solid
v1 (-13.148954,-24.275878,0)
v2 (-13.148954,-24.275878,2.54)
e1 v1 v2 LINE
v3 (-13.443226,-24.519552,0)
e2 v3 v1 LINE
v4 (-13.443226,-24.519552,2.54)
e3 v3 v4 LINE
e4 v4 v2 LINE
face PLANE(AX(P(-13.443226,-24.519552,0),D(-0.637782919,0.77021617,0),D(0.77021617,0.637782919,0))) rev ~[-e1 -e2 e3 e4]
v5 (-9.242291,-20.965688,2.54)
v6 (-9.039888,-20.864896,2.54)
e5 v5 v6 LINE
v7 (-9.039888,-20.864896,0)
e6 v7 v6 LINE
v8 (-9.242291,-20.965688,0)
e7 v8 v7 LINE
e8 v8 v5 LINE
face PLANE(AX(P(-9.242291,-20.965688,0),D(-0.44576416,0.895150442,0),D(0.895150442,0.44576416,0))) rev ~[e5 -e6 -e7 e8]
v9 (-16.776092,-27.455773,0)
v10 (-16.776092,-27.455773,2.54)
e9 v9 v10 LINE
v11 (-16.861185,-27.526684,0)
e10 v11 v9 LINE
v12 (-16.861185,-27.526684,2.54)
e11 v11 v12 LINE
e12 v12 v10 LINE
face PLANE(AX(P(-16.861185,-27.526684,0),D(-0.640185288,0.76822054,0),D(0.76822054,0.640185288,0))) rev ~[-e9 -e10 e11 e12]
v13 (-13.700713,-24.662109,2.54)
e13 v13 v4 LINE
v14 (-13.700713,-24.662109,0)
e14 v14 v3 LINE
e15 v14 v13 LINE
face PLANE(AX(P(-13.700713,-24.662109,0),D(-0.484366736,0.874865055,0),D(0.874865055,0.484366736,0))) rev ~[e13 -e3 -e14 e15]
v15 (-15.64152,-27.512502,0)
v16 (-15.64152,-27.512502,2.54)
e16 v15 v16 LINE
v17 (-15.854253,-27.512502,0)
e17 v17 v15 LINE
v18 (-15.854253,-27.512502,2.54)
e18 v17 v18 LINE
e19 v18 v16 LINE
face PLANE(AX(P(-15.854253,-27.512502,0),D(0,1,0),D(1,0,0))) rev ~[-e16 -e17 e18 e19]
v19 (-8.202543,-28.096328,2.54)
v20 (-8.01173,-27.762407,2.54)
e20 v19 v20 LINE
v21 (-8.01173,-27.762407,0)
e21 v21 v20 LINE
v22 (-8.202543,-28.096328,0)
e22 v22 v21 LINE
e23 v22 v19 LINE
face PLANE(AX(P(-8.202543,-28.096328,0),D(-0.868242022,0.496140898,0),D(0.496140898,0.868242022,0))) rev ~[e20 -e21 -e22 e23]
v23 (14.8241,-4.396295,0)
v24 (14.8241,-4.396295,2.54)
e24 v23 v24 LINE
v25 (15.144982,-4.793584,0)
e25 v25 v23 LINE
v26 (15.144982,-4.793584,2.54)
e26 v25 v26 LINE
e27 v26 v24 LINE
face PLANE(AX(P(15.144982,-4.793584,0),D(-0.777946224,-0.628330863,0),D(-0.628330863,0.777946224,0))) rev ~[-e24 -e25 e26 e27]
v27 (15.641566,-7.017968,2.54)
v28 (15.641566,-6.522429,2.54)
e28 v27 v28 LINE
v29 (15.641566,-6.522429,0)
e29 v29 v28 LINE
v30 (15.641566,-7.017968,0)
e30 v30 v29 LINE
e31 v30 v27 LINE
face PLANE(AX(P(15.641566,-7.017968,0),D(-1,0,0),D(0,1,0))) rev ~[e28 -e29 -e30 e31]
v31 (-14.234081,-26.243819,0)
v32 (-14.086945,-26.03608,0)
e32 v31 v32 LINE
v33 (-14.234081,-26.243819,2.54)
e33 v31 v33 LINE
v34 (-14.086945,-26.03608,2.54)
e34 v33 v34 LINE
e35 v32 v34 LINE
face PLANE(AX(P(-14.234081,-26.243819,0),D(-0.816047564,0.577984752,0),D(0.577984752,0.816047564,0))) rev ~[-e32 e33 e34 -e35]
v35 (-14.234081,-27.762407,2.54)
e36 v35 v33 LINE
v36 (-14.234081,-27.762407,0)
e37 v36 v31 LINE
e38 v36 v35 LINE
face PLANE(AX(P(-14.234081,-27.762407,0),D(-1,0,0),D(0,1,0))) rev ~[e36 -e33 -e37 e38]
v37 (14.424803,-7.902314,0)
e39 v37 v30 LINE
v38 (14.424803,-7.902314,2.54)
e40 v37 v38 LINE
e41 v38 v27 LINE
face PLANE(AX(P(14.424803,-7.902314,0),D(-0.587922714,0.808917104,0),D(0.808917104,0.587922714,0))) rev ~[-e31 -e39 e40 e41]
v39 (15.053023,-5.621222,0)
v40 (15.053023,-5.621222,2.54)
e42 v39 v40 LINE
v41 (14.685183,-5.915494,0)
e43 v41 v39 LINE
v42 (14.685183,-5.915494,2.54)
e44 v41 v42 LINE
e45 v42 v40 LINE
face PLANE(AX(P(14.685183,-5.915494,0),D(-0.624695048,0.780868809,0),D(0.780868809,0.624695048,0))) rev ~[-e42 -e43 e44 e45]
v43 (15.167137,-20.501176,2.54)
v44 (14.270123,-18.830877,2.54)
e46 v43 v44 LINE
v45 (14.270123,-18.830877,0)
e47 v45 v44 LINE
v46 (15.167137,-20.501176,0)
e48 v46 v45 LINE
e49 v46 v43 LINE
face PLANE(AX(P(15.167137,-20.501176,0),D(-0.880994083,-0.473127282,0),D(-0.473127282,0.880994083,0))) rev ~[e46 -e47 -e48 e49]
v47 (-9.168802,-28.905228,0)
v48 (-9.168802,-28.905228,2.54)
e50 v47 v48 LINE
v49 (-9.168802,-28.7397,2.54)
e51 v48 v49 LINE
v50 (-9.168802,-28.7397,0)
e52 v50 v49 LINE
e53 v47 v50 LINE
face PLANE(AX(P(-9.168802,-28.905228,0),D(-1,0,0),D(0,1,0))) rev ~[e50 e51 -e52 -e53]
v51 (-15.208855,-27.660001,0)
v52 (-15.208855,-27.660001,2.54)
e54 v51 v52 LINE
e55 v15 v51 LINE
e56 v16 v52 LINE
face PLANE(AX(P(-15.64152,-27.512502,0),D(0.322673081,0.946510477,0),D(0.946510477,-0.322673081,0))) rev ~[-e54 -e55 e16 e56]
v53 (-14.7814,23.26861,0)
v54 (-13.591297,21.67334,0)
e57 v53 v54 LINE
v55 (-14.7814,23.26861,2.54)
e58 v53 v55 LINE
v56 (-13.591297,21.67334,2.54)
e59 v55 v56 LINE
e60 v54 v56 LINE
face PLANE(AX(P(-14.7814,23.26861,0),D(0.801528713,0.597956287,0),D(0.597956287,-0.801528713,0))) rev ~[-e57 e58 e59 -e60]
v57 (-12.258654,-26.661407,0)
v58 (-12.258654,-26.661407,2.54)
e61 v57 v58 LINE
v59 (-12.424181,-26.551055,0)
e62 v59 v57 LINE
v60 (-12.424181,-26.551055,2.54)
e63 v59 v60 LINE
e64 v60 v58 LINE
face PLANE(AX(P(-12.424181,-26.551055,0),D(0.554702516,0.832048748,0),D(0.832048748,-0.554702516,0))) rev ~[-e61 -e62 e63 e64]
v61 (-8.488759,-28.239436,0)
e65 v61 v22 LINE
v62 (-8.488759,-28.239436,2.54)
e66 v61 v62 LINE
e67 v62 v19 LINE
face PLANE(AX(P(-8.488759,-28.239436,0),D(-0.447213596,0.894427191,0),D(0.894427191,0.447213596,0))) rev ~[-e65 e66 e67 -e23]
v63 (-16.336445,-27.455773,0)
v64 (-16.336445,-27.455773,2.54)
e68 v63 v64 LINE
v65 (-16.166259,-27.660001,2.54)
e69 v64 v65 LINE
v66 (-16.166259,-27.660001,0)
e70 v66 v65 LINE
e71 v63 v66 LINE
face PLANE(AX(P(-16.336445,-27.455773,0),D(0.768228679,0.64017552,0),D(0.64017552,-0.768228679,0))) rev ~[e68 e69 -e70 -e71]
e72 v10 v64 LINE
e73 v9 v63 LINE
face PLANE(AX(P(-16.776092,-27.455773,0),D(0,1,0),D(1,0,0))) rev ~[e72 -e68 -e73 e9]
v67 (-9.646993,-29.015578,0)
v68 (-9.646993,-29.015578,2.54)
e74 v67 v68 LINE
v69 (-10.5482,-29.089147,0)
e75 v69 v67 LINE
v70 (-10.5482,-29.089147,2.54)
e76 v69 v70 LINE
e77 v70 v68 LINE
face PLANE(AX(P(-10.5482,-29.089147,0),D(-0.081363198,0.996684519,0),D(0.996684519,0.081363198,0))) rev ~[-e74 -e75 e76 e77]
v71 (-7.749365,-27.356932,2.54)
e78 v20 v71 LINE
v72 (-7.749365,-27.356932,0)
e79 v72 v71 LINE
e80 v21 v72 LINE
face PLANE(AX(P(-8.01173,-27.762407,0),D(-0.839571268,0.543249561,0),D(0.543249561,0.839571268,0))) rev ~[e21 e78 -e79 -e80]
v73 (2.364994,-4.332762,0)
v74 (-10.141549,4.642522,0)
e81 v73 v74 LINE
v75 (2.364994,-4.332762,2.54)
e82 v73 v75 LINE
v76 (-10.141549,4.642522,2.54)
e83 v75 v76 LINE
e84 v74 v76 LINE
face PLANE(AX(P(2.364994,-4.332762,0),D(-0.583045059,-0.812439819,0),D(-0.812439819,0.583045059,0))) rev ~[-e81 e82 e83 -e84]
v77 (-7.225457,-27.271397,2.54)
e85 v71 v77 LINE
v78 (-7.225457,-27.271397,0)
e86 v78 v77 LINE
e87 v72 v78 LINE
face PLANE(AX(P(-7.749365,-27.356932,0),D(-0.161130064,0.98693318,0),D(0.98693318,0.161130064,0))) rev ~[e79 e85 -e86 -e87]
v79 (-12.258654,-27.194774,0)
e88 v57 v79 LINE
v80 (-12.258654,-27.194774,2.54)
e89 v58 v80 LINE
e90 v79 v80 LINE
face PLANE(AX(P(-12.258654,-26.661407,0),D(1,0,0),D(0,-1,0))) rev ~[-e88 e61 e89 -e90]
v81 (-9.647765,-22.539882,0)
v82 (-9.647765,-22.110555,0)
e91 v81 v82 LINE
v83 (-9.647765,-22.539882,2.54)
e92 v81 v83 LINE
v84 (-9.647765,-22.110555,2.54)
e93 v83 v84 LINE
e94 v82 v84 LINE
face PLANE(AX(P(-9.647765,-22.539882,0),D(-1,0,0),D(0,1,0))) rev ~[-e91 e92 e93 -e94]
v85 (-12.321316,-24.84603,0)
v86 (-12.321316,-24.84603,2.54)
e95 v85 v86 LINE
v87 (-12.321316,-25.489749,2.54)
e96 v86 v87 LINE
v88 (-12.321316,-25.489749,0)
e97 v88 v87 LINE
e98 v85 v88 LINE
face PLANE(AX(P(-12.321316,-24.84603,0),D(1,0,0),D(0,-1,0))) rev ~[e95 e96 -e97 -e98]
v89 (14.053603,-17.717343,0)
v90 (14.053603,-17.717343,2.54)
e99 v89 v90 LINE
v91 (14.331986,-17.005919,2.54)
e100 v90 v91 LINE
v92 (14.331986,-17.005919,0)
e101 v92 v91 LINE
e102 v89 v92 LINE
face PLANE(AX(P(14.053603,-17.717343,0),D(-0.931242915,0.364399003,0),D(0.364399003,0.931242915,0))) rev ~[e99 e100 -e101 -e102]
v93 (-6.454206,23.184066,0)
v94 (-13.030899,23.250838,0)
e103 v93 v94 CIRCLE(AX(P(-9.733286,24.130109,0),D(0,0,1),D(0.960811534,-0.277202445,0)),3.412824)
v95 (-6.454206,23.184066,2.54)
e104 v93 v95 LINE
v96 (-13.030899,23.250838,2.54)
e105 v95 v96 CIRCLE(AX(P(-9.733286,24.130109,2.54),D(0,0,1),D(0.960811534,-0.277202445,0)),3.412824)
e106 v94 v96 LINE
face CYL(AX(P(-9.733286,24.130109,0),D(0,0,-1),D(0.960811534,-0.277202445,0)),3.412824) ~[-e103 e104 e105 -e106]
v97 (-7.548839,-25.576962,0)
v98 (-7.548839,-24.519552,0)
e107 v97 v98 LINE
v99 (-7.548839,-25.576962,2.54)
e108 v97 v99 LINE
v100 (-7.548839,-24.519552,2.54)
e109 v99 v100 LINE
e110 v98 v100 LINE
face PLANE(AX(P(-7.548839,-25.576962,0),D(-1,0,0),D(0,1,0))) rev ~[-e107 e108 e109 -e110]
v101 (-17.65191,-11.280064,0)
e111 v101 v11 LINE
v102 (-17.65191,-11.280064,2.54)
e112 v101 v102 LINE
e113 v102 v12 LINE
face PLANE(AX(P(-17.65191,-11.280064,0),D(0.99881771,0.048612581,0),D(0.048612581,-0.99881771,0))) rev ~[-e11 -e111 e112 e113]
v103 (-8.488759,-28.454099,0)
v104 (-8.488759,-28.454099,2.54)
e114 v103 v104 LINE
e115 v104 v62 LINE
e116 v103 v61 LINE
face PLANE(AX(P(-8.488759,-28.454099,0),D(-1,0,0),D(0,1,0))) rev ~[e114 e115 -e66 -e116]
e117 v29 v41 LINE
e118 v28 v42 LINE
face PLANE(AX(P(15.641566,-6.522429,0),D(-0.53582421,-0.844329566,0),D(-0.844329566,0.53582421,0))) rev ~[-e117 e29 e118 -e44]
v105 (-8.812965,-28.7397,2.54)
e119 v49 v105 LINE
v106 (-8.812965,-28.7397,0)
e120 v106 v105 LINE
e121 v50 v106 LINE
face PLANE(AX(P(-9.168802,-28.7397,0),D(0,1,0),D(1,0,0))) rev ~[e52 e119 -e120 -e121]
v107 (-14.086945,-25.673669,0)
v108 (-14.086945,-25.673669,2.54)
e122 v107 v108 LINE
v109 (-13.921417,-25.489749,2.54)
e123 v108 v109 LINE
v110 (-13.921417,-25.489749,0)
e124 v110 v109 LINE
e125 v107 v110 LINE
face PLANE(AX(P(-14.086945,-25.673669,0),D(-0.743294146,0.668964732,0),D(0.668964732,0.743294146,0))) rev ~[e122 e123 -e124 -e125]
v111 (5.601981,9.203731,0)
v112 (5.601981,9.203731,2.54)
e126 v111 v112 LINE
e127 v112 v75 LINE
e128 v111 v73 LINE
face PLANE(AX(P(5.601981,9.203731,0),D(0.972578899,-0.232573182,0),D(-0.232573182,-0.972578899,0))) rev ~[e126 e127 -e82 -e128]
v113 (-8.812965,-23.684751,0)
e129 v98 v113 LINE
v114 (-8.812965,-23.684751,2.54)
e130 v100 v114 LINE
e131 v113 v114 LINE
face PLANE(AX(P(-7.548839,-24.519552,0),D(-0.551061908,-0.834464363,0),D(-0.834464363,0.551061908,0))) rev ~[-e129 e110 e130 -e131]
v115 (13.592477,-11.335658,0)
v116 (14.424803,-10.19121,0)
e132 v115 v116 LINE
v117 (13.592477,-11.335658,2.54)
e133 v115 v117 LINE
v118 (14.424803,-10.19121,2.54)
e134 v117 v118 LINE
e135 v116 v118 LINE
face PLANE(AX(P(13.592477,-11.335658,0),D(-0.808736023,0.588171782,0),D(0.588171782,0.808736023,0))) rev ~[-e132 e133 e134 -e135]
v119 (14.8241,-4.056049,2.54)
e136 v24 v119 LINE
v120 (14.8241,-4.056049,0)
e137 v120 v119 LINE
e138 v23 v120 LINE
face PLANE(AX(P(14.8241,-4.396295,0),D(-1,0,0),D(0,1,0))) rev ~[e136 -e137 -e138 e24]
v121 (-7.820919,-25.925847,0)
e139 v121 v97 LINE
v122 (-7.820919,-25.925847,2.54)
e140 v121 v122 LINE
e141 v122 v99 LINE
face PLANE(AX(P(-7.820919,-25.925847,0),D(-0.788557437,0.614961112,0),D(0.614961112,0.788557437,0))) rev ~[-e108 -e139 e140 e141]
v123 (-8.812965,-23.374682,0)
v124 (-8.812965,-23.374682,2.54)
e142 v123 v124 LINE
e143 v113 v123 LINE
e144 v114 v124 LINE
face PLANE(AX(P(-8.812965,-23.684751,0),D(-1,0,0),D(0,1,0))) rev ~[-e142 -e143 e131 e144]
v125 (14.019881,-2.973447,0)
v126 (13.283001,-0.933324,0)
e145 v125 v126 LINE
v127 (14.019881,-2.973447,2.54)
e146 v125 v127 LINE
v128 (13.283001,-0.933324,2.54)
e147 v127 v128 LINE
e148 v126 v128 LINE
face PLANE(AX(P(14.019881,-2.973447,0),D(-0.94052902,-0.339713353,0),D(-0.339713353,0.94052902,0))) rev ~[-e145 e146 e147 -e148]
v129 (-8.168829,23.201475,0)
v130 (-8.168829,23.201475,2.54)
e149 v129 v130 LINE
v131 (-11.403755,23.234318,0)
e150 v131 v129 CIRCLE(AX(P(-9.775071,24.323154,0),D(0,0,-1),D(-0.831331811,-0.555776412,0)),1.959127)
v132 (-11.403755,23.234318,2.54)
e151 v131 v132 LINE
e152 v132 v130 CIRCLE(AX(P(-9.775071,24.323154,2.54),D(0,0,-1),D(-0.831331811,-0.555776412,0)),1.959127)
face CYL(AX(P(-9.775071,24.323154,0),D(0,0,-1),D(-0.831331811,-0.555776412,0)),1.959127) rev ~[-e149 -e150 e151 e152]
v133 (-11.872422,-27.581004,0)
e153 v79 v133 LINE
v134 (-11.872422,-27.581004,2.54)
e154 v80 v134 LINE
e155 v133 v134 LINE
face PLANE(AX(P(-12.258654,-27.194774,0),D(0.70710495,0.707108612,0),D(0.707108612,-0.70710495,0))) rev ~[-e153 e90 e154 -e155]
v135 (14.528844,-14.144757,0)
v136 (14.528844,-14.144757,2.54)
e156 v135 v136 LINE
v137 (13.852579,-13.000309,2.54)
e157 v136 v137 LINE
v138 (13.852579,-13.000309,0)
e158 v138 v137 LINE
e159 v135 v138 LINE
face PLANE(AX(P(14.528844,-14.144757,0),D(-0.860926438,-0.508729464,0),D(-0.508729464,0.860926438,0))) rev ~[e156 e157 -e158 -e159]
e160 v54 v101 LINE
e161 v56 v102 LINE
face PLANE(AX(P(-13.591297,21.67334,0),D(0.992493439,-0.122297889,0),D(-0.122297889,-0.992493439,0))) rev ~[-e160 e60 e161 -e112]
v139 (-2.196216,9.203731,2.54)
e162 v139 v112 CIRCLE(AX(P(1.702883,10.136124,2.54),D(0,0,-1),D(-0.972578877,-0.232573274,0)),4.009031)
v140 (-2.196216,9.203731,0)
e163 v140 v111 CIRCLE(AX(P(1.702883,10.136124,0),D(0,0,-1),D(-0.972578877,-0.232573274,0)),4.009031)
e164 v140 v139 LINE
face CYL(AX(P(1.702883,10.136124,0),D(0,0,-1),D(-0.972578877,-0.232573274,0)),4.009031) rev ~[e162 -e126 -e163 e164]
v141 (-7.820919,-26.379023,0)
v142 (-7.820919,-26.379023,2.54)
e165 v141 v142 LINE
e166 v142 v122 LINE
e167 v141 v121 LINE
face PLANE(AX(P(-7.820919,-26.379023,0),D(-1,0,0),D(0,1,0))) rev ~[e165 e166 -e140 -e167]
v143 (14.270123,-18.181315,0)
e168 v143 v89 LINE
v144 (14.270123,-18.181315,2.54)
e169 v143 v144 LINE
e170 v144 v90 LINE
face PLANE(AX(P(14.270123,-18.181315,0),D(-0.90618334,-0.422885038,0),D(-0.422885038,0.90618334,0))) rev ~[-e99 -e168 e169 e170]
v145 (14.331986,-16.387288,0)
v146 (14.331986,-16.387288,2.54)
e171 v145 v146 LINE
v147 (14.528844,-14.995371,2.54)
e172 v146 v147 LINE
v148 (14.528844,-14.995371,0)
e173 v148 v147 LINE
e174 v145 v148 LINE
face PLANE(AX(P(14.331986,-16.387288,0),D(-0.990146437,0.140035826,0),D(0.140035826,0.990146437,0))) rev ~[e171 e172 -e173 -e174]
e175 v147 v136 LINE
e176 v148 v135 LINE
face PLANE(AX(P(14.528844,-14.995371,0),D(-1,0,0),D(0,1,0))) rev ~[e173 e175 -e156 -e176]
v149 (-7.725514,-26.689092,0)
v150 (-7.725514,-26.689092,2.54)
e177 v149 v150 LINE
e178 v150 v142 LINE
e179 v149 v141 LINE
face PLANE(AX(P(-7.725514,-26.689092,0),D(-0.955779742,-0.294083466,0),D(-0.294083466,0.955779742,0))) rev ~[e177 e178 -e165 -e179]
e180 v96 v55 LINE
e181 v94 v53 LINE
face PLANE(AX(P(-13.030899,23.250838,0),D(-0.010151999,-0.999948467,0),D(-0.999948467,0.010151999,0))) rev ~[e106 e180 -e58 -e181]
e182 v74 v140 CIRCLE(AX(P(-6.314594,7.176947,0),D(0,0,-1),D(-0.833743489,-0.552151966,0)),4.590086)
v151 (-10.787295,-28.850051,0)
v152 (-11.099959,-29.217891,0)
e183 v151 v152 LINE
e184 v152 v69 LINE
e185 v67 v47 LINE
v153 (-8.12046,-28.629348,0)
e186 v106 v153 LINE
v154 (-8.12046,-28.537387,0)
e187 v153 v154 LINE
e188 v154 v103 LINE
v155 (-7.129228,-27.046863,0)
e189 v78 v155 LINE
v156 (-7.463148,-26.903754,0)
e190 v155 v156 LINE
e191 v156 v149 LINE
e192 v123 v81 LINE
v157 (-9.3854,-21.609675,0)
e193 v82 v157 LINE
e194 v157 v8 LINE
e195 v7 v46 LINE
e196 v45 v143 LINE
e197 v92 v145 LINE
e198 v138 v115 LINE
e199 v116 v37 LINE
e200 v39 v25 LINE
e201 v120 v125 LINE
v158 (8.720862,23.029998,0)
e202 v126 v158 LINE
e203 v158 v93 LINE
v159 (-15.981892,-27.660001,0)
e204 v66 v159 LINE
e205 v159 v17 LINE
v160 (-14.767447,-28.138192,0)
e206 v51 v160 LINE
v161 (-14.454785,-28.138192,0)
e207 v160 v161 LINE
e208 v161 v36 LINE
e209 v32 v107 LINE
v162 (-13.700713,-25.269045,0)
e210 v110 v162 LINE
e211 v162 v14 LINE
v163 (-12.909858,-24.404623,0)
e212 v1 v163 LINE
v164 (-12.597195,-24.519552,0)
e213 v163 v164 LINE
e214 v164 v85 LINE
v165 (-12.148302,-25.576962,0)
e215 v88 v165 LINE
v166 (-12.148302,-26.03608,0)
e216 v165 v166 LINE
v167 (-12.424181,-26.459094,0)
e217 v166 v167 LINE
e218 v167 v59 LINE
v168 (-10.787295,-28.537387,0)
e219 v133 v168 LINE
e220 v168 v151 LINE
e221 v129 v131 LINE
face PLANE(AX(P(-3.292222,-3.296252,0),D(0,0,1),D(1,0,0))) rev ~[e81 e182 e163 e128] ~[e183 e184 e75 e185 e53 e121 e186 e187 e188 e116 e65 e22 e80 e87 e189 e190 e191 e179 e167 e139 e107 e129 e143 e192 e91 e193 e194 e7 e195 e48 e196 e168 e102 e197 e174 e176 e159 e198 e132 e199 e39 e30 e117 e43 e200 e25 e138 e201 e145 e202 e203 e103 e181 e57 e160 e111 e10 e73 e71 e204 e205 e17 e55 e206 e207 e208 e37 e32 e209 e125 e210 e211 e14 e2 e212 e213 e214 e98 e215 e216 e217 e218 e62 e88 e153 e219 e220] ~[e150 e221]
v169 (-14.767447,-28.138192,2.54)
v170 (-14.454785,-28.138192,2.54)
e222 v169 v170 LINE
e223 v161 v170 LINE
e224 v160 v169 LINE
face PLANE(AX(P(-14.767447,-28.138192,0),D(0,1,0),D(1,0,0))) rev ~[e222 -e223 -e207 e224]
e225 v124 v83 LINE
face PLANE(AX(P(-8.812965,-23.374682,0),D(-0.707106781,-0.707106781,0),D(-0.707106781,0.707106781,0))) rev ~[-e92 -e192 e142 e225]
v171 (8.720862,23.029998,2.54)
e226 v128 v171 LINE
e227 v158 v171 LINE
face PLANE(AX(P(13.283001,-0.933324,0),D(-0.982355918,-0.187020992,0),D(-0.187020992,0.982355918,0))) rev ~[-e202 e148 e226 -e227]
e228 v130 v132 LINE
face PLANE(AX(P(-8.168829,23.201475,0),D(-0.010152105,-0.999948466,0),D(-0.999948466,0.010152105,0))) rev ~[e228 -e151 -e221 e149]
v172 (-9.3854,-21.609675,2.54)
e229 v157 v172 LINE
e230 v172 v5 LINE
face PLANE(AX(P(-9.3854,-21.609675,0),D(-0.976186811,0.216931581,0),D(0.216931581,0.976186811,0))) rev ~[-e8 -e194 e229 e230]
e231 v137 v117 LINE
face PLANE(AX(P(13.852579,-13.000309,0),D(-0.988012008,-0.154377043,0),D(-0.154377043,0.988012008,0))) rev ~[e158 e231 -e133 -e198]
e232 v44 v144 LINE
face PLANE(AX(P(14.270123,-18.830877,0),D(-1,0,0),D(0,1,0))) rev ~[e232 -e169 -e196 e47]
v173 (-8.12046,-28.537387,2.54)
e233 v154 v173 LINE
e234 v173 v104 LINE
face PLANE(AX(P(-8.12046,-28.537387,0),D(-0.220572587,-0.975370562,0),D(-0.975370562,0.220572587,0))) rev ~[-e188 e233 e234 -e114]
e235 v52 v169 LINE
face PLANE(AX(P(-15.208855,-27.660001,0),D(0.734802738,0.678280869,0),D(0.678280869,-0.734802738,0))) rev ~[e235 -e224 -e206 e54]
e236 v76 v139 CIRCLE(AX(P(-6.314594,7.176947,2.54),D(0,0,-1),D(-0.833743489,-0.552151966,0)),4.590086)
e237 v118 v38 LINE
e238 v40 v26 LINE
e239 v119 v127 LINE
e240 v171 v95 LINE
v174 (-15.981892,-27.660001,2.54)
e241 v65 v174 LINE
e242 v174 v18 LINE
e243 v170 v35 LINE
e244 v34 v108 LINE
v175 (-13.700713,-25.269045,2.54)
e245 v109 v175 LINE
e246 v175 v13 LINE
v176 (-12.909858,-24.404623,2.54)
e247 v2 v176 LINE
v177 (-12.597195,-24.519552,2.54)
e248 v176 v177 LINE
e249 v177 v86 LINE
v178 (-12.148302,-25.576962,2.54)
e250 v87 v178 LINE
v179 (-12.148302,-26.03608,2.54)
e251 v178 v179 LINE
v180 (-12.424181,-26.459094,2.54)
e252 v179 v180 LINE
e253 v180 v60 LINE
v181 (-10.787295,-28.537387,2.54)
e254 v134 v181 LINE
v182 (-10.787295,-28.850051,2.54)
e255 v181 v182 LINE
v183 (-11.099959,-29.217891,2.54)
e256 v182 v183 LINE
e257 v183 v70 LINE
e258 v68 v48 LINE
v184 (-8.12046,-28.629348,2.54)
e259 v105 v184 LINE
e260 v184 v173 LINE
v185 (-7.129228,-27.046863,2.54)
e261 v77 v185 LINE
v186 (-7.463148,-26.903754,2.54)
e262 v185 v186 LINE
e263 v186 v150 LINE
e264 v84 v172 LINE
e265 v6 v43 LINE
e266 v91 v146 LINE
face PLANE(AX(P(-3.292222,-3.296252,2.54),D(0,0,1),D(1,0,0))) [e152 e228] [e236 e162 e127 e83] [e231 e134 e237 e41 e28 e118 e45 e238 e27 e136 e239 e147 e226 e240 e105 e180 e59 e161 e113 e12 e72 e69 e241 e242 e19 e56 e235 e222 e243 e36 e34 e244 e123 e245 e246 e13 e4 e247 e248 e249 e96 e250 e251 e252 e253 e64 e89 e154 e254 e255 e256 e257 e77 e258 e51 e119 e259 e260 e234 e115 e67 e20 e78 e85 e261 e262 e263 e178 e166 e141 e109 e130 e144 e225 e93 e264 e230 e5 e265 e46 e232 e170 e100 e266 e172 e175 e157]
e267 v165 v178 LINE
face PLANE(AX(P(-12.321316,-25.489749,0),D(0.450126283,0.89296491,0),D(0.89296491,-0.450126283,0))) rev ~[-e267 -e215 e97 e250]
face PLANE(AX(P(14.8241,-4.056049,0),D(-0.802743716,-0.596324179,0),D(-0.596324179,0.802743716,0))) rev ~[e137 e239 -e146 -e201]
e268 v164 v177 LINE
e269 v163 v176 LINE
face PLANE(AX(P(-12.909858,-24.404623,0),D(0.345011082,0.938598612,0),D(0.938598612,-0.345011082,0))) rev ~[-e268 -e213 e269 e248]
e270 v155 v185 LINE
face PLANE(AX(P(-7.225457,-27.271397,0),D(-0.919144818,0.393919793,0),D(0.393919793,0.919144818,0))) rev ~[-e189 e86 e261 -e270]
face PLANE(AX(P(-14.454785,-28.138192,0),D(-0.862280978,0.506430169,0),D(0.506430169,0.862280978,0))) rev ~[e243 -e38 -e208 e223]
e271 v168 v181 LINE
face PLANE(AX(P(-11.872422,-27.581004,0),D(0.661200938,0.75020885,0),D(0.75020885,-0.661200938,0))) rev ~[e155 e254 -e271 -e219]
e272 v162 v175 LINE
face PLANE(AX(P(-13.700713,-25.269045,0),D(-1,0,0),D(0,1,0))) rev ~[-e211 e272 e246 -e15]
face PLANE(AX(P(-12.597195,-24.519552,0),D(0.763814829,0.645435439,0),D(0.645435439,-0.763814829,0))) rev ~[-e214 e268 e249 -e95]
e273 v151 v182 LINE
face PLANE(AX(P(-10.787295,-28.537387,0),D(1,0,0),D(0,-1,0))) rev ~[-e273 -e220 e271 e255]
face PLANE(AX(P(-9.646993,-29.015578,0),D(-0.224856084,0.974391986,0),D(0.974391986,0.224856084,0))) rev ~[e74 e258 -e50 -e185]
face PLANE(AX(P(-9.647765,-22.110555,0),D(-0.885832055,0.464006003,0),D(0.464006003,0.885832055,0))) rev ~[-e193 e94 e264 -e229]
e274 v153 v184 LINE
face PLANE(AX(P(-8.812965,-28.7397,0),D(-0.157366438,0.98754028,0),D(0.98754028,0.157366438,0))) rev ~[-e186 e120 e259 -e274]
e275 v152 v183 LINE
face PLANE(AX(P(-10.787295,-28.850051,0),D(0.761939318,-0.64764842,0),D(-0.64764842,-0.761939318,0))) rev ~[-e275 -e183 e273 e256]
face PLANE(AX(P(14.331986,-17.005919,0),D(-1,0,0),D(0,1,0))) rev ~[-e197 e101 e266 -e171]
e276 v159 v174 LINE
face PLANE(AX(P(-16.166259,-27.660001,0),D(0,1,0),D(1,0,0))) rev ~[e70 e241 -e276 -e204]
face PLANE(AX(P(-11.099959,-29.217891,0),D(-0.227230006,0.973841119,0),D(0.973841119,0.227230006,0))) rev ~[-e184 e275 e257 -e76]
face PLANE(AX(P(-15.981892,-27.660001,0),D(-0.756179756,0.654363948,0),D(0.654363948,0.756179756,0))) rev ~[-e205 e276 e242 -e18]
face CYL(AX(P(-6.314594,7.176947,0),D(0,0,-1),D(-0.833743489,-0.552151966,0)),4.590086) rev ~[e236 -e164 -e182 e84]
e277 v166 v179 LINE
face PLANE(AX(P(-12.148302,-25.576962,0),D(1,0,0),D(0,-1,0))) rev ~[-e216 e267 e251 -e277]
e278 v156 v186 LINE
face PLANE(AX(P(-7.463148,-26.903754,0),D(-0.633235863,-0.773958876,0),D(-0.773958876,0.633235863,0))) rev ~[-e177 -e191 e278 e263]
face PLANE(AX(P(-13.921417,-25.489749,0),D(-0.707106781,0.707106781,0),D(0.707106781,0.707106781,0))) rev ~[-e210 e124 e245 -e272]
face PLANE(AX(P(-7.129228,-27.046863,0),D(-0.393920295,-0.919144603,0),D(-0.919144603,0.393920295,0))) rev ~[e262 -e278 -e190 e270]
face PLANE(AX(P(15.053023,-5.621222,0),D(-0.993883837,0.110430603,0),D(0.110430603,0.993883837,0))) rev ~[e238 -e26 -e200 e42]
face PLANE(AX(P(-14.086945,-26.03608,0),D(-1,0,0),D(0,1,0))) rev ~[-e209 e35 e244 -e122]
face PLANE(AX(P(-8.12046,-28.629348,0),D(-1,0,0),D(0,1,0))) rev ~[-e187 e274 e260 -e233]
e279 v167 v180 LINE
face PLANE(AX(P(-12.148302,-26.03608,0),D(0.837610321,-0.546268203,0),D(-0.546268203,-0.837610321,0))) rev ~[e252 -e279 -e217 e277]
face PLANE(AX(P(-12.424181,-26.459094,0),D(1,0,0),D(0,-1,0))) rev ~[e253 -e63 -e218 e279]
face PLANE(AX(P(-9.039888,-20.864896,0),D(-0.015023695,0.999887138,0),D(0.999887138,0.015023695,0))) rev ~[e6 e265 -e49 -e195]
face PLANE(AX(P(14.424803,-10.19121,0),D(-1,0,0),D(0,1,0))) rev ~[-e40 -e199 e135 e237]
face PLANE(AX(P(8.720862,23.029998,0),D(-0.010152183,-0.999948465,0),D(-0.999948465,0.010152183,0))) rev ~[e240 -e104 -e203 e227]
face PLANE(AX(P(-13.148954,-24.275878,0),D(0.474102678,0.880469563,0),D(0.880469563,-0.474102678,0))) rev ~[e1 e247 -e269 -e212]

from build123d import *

# Parameters (mm, degrees)
F1_DEPTH = 2.54


with BuildPart() as f1:
    # F0 (on Top) → F1 (new body)
    with BuildSketch(Plane.XY):
        with BuildLine():
            Line((-13.030899, 23.250838), (-14.7814, 23.26861))
            Line((-14.7814, 23.26861), (-13.591297, 21.67334))
            Line((-13.591297, 21.67334), (-17.65191, -11.280064))
            Line((-17.65191, -11.280064), (-16.861185, -27.526684))
            Line((-16.861185, -27.526684), (-16.776092, -27.455773))
            Line((-16.776092, -27.455773), (-16.336445, -27.455773))
            Line((-16.336445, -27.455773), (-16.166259, -27.660001))
            Line((-16.166259, -27.660001), (-15.981892, -27.660001))
            Line((-15.981892, -27.660001), (-15.854253, -27.512502))
            Line((-15.854253, -27.512502), (-15.64152, -27.512502))
            Line((-15.64152, -27.512502), (-15.208855, -27.660001))
            Line((-15.208855, -27.660001), (-14.767447, -28.138192))
            Line((-14.767447, -28.138192), (-14.454785, -28.138192))
            Line((-14.454785, -28.138192), (-14.234081, -27.762407))
            Line((-14.234081, -27.762407), (-14.234081, -26.243819))
            Line((-14.234081, -26.243819), (-14.086945, -26.03608))
            Line((-14.086945, -26.03608), (-14.086945, -25.673669))
            Line((-14.086945, -25.673669), (-13.921417, -25.489749))
            Line((-13.921417, -25.489749), (-13.700713, -25.269045))
            Line((-13.700713, -25.269045), (-13.700713, -24.882814))
            Line((-13.700713, -24.882814), (-13.700713, -24.662109))
            Line((-13.700713, -24.662109), (-13.443226, -24.519552))
            Line((-13.443226, -24.519552), (-13.148954, -24.275878))
            Line((-13.148954, -24.275878), (-12.909858, -24.404623))
            Line((-12.909858, -24.404623), (-12.597195, -24.519552))
            Line((-12.597195, -24.519552), (-12.321316, -24.84603))
            Line((-12.321316, -24.84603), (-12.321316, -25.489749))
            Line((-12.321316, -25.489749), (-12.148302, -25.576962))
            Line((-12.148302, -25.576962), (-12.148302, -26.03608))
            Line((-12.148302, -26.03608), (-12.424181, -26.459094))
            Line((-12.424181, -26.459094), (-12.424181, -26.551055))
            Line((-12.424181, -26.551055), (-12.258654, -26.661407))
            Line((-12.258654, -26.661407), (-12.258654, -27.194774))
            Line((-12.258654, -27.194774), (-11.872422, -27.581004))
            Line((-11.872422, -27.581004), (-10.787295, -28.537387))
            Line((-10.787295, -28.537387), (-10.787295, -28.850051))
            Line((-10.787295, -28.850051), (-11.099959, -29.217891))
            Line((-11.099959, -29.217891), (-10.5482, -29.089147))
            Line((-10.5482, -29.089147), (-9.646993, -29.015578))
            Line((-9.646993, -29.015578), (-9.168802, -28.905228))
            Line((-9.168802, -28.905228), (-9.168802, -28.7397))
            Line((-9.168802, -28.7397), (-8.812965, -28.7397))
            Line((-8.812965, -28.7397), (-8.12046, -28.629348))
            Line((-8.12046, -28.629348), (-8.12046, -28.537387))
            Line((-8.12046, -28.537387), (-8.488759, -28.454099))
            Line((-8.488759, -28.454099), (-8.488759, -28.239436))
            Line((-8.488759, -28.239436), (-8.202543, -28.096328))
            Line((-8.202543, -28.096328), (-8.01173, -27.762407))
            Line((-8.01173, -27.762407), (-7.749365, -27.356932))
            Line((-7.749365, -27.356932), (-7.225457, -27.271397))
            Line((-7.225457, -27.271397), (-7.129228, -27.046863))
            Line((-7.129228, -27.046863), (-7.463148, -26.903754))
            Line((-7.463148, -26.903754), (-7.725514, -26.689092))
            Line((-7.725514, -26.689092), (-7.820919, -26.379023))
            Line((-7.820919, -26.379023), (-7.820919, -25.925847))
            Line((-7.820919, -25.925847), (-7.548839, -25.576962))
            Line((-7.548839, -25.576962), (-7.548839, -24.519552))
            Line((-7.548839, -24.519552), (-8.812965, -23.684751))
            Line((-8.812965, -23.684751), (-8.812965, -23.374682))
            Line((-8.812965, -23.374682), (-9.647765, -22.539882))
            Line((-9.647765, -22.539882), (-9.647765, -22.110555))
            Line((-9.647765, -22.110555), (-9.3854, -21.609675))
            Line((-9.3854, -21.609675), (-9.242291, -20.965688))
            Line((-9.242291, -20.965688), (-9.039888, -20.864896))
            Line((-9.039888, -20.864896), (15.167137, -20.501176))
            Line((15.167137, -20.501176), (14.270123, -18.830877))
            Line((14.270123, -18.830877), (14.270123, -18.181315))
            Line((14.270123, -18.181315), (14.053603, -17.717343))
            Line((14.053603, -17.717343), (14.331986, -17.005919))
            Line((14.331986, -17.005919), (14.331986, -16.387288))
            Line((14.331986, -16.387288), (14.528844, -14.995371))
            Line((14.528844, -14.995371), (14.528844, -14.144757))
            Line((14.528844, -14.144757), (13.852579, -13.000309))
            Line((13.852579, -13.000309), (13.592477, -11.335658))
            Line((13.592477, -11.335658), (14.424803, -10.19121))
            Line((14.424803, -10.19121), (14.424803, -7.902314))
            Line((14.424803, -7.902314), (15.641566, -7.017968))
            Line((15.641566, -7.017968), (15.641566, -6.522429))
            Line((15.641566, -6.522429), (14.685183, -5.915494))
            Line((14.685183, -5.915494), (15.053023, -5.621222))
            Line((15.053023, -5.621222), (15.144982, -4.793584))
            Line((15.144982, -4.793584), (14.8241, -4.396295))
            Line((14.8241, -4.396295), (14.8241, -4.056049))
            Line((14.8241, -4.056049), (14.019881, -2.973447))
            Line((14.019881, -2.973447), (13.283001, -0.933324))
            Line((13.283001, -0.933324), (8.720862, 23.029998))
            Line((8.720862, 23.029998), (-6.454206, 23.184066))
            ThreePointArc((-6.454206, 23.184066), (-9.698639, 27.542757), (-13.030899, 23.250838))
        make_face()
        with BuildLine():
            ThreePointArc((-2.196216, 9.203731), (1.702882, 14.145155), (5.601981, 9.203731))
            Line((5.601981, 9.203731), (2.364994, -4.332762))
            Line((2.364994, -4.332762), (-10.141549, 4.642522))
            ThreePointArc((-10.141549, 4.642522), (-8.599849, 11.157714), (-2.196216, 9.203731))
        make_face(mode=Mode.SUBTRACT)
        with BuildLine():
            ThreePointArc((-11.403755, 23.234318), (-9.755181, 26.28218), (-8.168829, 23.201475))
            Line((-8.168829, 23.201475), (-11.403755, 23.234318))
        make_face(mode=Mode.SUBTRACT)
    extrude(amount=F1_DEPTH)


solid = f1.part
